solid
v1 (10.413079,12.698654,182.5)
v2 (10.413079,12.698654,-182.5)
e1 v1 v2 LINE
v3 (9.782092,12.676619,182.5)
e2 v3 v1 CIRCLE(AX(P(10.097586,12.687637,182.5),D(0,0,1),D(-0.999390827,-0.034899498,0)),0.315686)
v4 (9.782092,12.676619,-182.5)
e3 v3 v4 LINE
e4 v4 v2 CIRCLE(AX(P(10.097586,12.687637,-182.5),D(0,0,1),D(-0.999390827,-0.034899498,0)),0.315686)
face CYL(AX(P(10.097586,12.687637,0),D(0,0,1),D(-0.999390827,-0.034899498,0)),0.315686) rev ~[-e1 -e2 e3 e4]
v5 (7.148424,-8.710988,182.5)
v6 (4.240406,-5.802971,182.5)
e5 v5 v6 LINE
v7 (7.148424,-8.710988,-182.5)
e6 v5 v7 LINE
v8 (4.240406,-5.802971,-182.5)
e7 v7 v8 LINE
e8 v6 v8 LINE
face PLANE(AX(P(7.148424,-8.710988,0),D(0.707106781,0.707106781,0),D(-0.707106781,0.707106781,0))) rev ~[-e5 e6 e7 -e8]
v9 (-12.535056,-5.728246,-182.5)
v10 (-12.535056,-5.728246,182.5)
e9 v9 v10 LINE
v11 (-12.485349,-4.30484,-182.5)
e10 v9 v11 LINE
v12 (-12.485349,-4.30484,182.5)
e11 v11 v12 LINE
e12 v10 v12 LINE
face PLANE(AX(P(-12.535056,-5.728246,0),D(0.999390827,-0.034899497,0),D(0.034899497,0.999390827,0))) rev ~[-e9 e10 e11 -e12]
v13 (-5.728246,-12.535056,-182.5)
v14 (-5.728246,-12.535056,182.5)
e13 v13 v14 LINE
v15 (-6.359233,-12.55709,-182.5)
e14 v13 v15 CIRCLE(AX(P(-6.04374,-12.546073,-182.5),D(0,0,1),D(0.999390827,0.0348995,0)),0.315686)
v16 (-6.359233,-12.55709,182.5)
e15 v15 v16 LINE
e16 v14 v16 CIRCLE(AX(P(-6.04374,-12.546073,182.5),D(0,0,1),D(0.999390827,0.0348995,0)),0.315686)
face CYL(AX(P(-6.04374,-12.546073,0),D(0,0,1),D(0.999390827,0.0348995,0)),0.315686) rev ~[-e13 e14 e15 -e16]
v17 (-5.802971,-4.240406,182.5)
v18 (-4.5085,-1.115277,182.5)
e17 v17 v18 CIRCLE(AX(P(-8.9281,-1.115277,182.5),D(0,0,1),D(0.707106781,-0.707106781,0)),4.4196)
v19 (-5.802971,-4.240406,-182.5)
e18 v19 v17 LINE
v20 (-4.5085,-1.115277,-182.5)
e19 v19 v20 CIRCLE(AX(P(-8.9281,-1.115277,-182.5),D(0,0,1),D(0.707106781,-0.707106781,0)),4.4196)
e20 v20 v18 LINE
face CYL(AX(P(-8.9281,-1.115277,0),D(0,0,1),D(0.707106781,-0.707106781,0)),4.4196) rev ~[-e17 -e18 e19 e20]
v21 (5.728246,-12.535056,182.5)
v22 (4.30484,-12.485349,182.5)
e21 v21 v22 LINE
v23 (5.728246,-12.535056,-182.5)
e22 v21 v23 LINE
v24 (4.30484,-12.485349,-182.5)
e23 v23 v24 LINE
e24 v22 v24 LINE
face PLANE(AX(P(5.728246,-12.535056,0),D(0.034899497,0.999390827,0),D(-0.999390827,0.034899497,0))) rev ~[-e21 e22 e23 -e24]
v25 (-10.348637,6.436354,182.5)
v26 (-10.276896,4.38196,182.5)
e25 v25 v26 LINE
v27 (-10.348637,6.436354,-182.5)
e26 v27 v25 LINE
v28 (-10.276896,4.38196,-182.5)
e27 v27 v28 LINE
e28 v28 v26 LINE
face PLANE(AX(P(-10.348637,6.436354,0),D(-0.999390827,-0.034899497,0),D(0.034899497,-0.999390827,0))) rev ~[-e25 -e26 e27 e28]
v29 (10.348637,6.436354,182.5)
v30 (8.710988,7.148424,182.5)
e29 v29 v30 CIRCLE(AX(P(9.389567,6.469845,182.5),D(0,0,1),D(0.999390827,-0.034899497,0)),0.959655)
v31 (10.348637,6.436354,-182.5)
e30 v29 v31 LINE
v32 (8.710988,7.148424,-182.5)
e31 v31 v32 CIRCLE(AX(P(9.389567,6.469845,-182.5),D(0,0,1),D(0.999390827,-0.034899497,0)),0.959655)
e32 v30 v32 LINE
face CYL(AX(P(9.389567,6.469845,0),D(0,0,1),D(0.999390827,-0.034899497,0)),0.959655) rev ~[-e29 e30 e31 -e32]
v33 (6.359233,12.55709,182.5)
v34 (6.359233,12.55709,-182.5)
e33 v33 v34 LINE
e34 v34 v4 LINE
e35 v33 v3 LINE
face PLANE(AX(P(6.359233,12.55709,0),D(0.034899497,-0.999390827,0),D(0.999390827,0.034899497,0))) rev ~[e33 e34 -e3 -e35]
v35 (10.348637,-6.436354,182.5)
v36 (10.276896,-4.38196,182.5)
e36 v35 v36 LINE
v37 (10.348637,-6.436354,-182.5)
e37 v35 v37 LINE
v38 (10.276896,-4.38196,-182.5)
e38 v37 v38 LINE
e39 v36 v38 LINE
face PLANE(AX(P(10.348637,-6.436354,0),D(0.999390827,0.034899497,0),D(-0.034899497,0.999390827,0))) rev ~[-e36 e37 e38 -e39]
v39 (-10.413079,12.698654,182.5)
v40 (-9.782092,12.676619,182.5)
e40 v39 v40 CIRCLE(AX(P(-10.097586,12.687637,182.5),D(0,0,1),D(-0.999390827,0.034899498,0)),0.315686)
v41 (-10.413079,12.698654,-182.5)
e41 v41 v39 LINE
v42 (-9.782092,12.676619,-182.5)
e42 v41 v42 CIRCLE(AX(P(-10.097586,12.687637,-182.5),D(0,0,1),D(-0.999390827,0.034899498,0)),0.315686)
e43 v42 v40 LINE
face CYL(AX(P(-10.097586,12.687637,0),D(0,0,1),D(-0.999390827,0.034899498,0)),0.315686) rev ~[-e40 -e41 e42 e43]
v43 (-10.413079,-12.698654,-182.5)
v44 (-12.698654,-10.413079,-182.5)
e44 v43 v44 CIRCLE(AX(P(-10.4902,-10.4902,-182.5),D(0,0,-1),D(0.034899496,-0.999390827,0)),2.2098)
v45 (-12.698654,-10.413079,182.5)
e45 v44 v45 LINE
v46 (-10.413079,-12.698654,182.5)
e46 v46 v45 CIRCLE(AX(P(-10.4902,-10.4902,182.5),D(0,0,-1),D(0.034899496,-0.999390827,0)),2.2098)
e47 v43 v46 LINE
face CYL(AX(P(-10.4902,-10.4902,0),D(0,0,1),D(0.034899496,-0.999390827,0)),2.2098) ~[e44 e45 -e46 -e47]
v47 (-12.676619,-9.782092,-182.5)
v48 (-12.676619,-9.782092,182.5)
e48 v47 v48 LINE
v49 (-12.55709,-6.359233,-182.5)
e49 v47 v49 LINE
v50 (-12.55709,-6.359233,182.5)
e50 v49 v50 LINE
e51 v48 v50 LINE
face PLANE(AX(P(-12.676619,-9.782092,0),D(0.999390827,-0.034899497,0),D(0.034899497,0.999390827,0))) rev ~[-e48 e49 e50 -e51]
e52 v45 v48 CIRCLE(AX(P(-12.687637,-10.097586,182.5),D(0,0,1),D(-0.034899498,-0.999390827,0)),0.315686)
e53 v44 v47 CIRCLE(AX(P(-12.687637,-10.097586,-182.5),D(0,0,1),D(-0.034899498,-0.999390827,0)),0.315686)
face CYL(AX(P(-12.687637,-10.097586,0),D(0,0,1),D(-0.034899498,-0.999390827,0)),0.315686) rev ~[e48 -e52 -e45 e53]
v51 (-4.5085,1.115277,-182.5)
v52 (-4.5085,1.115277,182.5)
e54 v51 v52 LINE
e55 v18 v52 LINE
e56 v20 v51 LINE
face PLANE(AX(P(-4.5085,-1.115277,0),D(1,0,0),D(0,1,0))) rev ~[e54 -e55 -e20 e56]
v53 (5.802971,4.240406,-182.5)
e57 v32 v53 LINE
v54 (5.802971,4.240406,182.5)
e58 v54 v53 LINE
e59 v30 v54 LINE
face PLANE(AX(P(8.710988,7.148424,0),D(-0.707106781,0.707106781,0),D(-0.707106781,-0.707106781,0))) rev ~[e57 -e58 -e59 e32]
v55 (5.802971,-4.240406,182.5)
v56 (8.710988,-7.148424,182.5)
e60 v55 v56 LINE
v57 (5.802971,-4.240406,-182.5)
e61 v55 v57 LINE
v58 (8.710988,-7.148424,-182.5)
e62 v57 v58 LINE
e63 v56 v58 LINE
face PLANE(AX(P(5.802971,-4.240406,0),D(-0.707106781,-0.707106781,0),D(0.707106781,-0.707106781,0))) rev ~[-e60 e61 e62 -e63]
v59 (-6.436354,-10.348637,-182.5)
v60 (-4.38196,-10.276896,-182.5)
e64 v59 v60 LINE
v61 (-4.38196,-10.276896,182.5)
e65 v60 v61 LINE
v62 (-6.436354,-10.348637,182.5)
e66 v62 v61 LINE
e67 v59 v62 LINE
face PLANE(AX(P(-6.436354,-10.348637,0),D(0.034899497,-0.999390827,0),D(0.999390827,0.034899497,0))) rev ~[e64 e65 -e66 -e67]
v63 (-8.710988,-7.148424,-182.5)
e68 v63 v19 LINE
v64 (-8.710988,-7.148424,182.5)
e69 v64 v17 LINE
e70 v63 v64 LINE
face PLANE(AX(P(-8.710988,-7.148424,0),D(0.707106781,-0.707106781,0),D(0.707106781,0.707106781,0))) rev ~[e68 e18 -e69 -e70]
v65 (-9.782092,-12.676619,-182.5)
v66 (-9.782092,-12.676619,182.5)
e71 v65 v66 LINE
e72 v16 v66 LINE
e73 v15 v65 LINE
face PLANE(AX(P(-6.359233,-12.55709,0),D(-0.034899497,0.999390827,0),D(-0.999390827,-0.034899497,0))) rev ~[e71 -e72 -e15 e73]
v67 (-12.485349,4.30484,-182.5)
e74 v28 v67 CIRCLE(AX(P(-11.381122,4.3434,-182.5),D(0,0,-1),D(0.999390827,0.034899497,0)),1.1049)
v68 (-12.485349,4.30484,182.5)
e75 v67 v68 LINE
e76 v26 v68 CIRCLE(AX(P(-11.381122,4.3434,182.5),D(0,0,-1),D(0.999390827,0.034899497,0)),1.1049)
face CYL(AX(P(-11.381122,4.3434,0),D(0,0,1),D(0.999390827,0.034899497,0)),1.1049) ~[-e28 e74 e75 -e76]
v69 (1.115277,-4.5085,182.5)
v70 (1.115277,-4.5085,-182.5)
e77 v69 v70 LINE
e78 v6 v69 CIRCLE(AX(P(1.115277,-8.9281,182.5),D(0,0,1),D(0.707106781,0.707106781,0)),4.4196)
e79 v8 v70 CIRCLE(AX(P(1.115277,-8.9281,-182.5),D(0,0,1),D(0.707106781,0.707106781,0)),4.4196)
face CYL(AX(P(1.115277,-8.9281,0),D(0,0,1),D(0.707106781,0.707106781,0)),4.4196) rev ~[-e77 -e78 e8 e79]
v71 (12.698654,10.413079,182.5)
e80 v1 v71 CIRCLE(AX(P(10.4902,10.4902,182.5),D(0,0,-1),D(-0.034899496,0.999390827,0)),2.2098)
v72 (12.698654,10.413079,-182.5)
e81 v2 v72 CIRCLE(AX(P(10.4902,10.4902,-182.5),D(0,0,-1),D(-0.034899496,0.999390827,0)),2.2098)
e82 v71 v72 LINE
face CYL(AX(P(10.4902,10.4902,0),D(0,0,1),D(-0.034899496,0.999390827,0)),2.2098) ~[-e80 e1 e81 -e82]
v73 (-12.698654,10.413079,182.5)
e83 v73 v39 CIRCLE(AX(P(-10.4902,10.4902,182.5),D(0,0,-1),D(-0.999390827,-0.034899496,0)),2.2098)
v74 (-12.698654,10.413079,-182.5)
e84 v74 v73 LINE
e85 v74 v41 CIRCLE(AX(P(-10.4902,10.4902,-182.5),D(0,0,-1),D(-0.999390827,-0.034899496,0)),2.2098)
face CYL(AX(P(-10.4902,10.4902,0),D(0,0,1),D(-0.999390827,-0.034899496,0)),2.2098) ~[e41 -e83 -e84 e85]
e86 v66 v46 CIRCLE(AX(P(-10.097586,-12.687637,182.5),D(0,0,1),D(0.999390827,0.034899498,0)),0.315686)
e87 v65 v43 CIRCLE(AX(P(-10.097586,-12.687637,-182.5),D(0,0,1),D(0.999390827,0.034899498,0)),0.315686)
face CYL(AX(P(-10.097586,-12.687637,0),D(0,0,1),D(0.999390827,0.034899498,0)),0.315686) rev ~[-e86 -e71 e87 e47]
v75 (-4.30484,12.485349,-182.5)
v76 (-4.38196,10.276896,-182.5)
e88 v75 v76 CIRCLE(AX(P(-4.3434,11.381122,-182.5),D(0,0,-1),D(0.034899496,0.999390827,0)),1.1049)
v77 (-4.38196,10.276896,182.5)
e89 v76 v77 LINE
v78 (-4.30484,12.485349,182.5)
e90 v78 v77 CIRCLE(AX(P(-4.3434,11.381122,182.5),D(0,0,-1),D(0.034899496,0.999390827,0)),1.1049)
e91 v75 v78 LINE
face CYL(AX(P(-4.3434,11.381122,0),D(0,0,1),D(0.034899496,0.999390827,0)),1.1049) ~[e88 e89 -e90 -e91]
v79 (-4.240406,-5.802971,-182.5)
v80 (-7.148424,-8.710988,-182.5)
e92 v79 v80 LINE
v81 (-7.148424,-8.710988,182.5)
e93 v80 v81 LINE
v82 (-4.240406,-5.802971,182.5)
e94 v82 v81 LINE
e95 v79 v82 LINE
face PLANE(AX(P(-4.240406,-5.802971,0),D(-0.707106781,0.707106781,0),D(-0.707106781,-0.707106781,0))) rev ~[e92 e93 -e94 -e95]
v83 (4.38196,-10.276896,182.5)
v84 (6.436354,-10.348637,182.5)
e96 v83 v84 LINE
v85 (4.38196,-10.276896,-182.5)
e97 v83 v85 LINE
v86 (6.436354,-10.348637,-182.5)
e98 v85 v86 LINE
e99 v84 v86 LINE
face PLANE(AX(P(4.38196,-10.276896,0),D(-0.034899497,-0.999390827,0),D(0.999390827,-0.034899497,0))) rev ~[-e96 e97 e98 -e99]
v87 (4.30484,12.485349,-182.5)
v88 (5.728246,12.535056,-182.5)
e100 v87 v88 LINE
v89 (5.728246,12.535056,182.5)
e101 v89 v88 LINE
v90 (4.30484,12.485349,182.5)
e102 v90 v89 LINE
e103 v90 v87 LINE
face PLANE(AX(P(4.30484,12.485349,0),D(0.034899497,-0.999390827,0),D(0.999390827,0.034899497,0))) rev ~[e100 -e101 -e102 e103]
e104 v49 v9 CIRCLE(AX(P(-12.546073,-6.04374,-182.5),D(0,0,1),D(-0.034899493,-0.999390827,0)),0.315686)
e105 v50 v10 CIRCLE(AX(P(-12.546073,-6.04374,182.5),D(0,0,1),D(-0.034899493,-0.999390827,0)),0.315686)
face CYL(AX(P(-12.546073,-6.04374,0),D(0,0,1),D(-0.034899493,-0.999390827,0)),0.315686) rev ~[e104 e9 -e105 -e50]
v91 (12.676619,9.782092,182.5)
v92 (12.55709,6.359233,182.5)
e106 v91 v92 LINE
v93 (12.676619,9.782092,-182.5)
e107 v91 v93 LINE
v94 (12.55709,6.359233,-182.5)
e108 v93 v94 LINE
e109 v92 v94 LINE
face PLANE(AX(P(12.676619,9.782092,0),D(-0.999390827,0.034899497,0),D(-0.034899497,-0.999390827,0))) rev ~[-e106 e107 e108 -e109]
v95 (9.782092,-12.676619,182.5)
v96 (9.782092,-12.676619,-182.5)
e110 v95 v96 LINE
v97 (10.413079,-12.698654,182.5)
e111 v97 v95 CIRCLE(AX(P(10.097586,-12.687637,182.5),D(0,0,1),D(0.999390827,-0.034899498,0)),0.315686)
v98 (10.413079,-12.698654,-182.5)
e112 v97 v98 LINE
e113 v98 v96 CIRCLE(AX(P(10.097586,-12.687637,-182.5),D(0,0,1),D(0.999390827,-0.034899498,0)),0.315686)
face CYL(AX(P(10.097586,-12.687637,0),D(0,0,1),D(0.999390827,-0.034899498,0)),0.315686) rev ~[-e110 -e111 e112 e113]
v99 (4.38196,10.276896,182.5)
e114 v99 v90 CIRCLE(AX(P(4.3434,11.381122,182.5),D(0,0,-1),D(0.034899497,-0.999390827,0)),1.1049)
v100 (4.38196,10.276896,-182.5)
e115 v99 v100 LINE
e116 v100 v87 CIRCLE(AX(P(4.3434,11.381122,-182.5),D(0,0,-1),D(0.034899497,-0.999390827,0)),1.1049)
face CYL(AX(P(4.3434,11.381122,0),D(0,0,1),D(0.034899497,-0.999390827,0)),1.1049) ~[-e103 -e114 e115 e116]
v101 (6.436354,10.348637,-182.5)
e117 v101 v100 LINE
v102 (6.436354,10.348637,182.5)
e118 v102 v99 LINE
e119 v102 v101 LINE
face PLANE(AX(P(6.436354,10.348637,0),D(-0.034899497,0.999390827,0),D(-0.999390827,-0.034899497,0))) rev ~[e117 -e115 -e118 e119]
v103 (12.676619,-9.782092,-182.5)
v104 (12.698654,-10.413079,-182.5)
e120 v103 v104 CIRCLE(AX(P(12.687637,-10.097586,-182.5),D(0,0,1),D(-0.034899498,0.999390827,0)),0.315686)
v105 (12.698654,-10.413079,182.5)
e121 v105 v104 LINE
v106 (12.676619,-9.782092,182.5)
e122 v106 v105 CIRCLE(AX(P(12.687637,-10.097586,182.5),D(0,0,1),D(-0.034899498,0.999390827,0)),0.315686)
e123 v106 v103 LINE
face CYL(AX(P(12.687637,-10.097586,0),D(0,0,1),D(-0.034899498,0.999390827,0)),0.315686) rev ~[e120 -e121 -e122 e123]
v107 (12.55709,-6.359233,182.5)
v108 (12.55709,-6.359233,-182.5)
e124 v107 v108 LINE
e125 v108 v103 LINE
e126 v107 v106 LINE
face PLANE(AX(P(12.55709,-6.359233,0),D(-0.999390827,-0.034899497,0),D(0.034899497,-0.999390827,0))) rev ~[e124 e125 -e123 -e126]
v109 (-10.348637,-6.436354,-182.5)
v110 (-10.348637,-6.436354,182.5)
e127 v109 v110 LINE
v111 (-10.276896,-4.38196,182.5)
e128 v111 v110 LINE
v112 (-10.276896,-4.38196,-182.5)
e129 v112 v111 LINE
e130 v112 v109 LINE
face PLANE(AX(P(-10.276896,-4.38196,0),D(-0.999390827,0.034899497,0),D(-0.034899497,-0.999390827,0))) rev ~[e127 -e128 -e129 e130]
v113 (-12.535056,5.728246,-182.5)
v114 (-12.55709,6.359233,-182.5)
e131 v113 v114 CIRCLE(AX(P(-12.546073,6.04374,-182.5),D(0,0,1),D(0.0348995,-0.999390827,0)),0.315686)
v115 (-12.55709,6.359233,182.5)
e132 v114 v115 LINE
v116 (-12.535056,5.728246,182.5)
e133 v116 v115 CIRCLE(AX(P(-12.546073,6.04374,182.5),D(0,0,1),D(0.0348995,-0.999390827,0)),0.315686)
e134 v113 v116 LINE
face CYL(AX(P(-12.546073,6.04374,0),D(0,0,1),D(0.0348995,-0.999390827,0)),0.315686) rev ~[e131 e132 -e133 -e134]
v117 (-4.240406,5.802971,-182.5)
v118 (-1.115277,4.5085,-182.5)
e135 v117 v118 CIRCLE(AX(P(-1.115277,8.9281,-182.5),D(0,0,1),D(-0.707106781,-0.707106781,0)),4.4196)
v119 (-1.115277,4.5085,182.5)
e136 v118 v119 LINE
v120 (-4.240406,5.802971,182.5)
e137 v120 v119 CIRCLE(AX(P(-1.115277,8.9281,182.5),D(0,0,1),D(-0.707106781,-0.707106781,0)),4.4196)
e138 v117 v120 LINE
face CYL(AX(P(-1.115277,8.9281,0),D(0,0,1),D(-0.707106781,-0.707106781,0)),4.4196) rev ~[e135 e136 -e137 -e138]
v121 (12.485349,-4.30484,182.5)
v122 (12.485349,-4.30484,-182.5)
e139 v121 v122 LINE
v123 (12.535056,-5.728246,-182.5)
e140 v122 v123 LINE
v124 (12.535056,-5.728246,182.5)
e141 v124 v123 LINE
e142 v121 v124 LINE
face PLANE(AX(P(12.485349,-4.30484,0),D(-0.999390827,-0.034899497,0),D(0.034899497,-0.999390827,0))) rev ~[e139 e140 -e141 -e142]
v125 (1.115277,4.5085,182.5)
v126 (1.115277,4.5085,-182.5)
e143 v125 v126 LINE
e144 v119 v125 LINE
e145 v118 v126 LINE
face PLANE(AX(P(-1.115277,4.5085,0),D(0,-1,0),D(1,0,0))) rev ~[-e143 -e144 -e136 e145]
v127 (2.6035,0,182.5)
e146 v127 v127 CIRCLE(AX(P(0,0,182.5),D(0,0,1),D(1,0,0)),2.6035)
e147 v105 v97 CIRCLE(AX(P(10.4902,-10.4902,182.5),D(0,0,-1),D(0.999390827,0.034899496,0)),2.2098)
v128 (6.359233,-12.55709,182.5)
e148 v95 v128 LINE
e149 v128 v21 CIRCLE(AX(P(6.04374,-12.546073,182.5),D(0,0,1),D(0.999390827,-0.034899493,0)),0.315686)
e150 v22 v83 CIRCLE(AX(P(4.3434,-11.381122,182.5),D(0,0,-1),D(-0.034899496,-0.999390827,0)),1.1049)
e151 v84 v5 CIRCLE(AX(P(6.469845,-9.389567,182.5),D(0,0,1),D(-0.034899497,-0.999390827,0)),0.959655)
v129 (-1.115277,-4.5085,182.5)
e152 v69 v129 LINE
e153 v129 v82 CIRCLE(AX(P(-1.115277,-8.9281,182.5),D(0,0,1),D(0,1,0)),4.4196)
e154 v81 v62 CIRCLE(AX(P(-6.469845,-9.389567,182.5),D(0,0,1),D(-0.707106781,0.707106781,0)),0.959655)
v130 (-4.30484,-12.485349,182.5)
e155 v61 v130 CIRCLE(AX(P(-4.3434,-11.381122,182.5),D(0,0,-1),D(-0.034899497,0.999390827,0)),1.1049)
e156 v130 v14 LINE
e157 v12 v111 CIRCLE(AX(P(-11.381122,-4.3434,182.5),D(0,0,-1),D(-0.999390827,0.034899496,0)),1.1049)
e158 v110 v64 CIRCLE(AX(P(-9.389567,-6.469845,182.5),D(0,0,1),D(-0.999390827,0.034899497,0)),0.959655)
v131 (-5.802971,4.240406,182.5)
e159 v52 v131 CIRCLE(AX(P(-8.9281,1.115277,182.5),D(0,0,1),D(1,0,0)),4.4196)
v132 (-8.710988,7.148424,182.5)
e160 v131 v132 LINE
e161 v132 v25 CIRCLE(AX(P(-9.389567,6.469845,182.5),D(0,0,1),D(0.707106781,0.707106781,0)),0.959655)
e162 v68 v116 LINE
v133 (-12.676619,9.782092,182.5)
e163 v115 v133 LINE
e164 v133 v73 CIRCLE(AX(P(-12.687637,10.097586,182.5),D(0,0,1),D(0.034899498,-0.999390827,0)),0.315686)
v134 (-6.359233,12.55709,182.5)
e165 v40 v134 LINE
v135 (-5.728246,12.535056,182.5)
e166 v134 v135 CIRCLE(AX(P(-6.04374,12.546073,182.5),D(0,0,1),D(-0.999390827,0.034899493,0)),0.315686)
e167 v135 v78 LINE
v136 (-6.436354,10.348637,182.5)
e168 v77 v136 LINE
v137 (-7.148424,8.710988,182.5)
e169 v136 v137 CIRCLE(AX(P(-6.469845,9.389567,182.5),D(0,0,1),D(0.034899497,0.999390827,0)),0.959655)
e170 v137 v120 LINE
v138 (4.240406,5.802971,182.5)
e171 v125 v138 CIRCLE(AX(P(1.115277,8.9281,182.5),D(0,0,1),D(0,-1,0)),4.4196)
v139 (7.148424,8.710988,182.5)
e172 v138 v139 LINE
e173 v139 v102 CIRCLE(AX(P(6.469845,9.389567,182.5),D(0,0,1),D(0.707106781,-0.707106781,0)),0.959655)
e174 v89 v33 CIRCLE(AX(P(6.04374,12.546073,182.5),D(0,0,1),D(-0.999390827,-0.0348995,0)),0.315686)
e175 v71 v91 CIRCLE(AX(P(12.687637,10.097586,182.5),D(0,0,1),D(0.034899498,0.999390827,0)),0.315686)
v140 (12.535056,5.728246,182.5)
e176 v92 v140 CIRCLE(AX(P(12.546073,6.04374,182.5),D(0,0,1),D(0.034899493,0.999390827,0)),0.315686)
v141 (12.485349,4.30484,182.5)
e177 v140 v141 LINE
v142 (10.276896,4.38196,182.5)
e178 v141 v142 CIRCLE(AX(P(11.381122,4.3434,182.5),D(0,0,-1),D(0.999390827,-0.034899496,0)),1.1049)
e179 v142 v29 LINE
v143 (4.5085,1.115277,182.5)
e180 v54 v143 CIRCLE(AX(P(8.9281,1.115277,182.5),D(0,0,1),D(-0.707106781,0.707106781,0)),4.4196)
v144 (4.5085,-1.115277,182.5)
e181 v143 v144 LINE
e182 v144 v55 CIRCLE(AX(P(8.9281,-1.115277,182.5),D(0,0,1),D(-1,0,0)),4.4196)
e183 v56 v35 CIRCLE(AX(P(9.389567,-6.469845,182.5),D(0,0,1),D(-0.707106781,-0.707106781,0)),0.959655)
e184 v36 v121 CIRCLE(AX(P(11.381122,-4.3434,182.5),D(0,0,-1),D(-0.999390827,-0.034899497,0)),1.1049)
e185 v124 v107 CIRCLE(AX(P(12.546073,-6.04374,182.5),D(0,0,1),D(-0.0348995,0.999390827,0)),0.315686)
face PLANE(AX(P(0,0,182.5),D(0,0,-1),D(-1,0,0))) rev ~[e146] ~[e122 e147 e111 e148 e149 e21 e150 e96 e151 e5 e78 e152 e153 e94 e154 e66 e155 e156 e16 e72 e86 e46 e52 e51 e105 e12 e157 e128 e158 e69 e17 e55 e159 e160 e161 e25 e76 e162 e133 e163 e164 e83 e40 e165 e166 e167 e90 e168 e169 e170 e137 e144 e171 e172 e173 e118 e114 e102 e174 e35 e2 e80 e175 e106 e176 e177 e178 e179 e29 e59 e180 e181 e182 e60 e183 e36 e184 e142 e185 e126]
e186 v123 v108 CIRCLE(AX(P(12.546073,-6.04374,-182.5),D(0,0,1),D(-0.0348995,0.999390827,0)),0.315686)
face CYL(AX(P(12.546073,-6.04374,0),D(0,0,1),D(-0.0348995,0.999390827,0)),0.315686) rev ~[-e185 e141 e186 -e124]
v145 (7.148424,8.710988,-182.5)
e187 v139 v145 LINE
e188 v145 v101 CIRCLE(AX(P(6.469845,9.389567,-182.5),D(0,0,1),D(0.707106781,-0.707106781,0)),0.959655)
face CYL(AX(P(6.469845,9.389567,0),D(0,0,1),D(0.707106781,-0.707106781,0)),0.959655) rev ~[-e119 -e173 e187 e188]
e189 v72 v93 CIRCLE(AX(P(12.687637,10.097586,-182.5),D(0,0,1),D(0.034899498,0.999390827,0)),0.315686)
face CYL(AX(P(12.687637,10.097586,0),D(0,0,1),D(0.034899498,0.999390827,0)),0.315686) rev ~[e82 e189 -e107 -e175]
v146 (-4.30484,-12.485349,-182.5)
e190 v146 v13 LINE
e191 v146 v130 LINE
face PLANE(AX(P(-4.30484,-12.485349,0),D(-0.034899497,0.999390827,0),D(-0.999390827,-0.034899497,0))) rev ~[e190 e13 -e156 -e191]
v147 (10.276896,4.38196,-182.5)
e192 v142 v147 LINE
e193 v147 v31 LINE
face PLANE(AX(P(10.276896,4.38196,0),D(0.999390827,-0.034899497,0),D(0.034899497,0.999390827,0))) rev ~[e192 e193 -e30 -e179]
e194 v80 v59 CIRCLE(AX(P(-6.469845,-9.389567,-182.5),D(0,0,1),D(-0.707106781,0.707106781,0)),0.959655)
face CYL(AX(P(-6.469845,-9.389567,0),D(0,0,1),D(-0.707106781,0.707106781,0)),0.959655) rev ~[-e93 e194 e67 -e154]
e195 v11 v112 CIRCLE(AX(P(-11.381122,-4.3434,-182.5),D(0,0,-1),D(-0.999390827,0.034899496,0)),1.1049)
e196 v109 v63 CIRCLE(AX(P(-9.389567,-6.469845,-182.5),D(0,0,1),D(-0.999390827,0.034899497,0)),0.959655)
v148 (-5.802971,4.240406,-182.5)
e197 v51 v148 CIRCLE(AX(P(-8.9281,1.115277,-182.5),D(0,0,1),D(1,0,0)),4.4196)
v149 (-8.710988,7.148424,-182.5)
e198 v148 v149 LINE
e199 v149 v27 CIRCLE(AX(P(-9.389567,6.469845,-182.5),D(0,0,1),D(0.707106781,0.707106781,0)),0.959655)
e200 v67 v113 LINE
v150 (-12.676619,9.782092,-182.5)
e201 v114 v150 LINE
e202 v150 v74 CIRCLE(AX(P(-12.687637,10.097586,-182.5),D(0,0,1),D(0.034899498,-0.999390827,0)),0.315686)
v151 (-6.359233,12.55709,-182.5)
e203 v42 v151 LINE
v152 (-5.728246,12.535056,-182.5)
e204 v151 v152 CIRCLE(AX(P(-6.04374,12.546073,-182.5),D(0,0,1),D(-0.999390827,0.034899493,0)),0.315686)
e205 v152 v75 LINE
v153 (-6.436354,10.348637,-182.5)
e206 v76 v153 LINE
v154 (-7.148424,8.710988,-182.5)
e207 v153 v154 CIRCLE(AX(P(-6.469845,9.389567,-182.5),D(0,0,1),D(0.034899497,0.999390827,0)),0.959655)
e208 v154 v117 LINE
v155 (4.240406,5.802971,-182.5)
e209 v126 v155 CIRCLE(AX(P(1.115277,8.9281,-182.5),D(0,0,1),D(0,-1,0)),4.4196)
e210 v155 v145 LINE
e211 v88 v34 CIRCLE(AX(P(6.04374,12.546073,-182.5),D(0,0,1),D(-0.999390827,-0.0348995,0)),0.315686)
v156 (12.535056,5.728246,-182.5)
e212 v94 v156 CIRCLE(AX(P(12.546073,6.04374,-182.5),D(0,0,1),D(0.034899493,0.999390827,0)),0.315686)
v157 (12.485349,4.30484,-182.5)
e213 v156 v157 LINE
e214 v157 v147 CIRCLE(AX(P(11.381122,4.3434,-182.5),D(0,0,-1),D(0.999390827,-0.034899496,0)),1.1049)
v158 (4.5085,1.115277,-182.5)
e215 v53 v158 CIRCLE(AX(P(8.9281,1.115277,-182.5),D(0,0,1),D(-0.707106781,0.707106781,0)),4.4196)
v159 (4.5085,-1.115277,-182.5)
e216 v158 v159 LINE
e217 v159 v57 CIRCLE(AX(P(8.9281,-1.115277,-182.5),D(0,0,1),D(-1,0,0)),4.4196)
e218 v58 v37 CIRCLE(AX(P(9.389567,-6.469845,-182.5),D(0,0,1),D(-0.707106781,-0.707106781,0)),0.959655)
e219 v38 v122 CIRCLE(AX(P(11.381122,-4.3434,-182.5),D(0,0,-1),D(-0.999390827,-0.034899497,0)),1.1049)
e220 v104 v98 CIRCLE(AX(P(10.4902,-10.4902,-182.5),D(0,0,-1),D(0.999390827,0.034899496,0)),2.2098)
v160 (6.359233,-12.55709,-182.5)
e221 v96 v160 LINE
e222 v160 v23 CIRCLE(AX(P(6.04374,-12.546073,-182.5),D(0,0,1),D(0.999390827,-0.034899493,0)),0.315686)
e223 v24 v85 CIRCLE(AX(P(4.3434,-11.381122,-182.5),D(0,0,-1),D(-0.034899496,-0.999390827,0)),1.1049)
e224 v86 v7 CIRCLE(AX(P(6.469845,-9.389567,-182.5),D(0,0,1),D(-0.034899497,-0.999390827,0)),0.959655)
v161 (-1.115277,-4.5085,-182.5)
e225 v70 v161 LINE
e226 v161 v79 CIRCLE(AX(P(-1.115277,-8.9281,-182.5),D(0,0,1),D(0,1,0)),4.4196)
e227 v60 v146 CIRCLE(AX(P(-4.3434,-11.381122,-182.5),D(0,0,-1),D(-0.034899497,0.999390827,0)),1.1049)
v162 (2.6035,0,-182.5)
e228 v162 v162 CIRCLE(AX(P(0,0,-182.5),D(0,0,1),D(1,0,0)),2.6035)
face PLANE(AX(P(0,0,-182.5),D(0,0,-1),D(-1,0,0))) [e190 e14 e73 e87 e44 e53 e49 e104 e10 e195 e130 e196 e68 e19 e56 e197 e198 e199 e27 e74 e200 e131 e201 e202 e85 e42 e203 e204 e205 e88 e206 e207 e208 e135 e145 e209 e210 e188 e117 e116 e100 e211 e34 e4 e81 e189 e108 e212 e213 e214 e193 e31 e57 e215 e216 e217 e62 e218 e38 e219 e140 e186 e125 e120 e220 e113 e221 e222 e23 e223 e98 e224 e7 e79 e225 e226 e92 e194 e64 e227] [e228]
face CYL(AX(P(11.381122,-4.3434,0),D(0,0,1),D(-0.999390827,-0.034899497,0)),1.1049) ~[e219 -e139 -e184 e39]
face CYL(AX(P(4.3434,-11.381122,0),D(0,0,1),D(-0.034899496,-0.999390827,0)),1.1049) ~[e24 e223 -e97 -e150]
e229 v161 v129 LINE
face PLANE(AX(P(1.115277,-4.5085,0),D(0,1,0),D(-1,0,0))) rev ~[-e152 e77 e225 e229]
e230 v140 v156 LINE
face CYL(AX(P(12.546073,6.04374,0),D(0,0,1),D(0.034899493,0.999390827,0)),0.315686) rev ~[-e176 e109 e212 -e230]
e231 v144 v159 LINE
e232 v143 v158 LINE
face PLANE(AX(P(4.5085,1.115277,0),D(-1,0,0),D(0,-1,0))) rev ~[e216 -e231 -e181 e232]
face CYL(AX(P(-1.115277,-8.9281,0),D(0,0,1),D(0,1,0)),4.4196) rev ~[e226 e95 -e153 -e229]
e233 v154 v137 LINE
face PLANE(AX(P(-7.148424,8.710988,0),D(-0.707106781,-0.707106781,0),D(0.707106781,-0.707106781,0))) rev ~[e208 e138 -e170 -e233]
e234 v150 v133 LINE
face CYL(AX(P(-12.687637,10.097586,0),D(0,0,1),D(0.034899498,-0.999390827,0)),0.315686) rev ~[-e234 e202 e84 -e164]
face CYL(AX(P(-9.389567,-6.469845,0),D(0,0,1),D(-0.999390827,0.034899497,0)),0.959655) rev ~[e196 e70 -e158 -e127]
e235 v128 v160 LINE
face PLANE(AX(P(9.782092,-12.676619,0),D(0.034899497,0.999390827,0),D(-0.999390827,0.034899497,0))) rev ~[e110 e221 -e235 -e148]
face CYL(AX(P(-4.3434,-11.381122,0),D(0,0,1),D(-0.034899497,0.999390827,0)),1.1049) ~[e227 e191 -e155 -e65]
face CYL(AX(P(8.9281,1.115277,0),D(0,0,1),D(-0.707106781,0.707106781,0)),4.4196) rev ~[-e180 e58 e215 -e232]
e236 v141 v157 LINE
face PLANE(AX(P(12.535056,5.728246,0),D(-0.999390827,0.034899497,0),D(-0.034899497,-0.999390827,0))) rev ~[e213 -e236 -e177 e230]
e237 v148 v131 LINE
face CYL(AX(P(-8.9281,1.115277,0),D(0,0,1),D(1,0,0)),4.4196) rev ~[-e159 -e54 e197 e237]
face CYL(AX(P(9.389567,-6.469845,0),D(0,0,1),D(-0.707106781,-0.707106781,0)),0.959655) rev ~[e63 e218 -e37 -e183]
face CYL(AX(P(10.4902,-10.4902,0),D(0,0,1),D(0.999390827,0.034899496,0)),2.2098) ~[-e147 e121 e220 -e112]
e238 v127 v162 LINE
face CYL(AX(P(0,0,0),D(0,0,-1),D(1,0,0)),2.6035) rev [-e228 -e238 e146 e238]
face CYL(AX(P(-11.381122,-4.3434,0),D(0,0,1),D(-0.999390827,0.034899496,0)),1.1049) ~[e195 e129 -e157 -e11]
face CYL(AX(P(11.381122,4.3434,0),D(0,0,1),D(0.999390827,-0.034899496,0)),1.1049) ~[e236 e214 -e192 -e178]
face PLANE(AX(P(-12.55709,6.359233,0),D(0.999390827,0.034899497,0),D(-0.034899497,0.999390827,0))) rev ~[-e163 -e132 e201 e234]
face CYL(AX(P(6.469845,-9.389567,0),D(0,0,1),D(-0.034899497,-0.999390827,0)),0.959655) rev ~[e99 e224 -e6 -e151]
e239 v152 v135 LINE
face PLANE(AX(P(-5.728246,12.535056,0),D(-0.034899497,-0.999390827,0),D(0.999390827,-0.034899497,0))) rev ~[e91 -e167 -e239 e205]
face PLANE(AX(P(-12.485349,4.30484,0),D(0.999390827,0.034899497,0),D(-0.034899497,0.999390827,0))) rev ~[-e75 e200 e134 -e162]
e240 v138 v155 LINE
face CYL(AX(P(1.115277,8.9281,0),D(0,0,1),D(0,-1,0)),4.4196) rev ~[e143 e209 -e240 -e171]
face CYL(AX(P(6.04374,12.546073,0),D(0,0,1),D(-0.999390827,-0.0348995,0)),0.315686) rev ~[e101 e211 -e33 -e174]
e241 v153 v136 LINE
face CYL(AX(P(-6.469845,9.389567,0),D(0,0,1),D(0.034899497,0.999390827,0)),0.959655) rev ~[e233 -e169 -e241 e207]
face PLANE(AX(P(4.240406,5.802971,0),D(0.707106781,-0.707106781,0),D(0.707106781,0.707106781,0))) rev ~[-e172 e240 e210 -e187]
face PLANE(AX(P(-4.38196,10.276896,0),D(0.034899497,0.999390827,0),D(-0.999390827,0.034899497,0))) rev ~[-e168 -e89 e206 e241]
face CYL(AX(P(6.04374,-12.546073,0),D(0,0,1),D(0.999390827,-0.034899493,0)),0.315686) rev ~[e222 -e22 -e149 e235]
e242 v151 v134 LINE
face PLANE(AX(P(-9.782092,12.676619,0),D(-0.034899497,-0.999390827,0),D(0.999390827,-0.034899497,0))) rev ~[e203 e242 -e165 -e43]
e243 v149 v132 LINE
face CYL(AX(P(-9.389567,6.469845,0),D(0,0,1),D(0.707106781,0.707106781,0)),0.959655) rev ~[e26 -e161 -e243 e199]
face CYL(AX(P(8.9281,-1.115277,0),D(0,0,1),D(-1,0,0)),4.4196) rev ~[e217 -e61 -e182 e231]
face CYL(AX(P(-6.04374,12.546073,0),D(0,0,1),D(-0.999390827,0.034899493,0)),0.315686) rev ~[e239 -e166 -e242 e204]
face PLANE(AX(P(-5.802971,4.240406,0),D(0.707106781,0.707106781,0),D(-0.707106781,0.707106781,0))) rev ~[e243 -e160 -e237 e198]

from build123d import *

# Parameters (mm, degrees)
SKETCH3_R      = 2.6035
EXTRUDE1_DEPTH = 182.5


with BuildPart() as part:
    # Sketch3 → Extrude1 (new body, symmetric)
    with BuildSketch(Plane.XY):
        with BuildLine():
            Line((-1.115277175, 4.5085), (1.115277175, 4.5085))
            ThreePointArc((1.115277175, 4.5085), (2.806584872, 4.844922018), (4.240406305, 5.80297087))
            Line((4.240406305, 5.80297087), (7.148423664, 8.710988229))
            ThreePointArc((7.148423664, 8.710988229), (7.349906316, 9.772227925), (6.436353897, 10.348636575))
            Line((6.436353897, 10.348636575), (4.381960454, 10.276895575))
            ThreePointArc((4.381960454, 10.276895575), (3.239173075, 11.342562046), (4.304839546, 12.485349424))
            Line((4.304839546, 12.485349424), (5.728246175, 12.535055879))
            ThreePointArc((5.728246175, 12.535055879), (6.054756855, 12.230579745), (6.35923299, 12.557090424))
            Line((6.35923299, 12.557090424), (9.782092278, 12.676619304))
            ThreePointArc((9.782092278, 12.676619304), (10.108602958, 12.37214317), (10.413079092, 12.69865385))
            ThreePointArc((10.413079092, 12.69865385), (12.052764565, 12.052764565), (12.69865385, 10.413079092))
            ThreePointArc((12.69865385, 10.413079092), (12.37214317, 10.108602958), (12.676619304, 9.782092278))
            Line((12.676619304, 9.782092278), (12.557090424, 6.35923299))
            ThreePointArc((12.557090424, 6.35923299), (12.230579745, 6.054756855), (12.535055879, 5.728246175))
            Line((12.535055879, 5.728246175), (12.485349424, 4.304839546))
            ThreePointArc((12.485349424, 4.304839546), (11.342562046, 3.239173075), (10.276895575, 4.381960454))
            Line((10.276895575, 4.381960454), (10.348636575, 6.436353897))
            ThreePointArc((10.348636575, 6.436353897), (9.772227925, 7.349906316), (8.710988229, 7.148423664))
            Line((8.710988229, 7.148423664), (5.80297087, 4.240406305))
            ThreePointArc((5.80297087, 4.240406305), (4.844922018, 2.806584872), (4.5085, 1.115277175))
            Line((4.5085, 1.115277175), (4.5085, -1.115277175))
            ThreePointArc((4.5085, -1.115277175), (4.844922018, -2.806584872), (5.80297087, -4.240406305))
            Line((5.80297087, -4.240406305), (8.710988229, -7.148423664))
            ThreePointArc((8.710988229, -7.148423664), (9.772227925, -7.349906316), (10.348636575, -6.436353897))
            Line((10.348636575, -6.436353897), (10.276895575, -4.381960454))
            ThreePointArc((10.276895575, -4.381960454), (11.342562046, -3.239173075), (12.485349424, -4.304839546))
            Line((12.485349424, -4.304839546), (12.535055879, -5.728246175))
            ThreePointArc((12.535055879, -5.728246175), (12.230579745, -6.054756855), (12.557090424, -6.35923299))
            Line((12.557090424, -6.35923299), (12.676619304, -9.782092278))
            ThreePointArc((12.676619304, -9.782092278), (12.37214317, -10.108602958), (12.69865385, -10.413079092))
            ThreePointArc((12.69865385, -10.413079092), (12.052764565, -12.052764565), (10.413079092, -12.69865385))
            ThreePointArc((10.413079092, -12.69865385), (10.108602958, -12.37214317), (9.782092278, -12.676619304))
            Line((9.782092278, -12.676619304), (6.35923299, -12.557090424))
            ThreePointArc((6.35923299, -12.557090424), (6.054756855, -12.230579745), (5.728246175, -12.535055879))
            Line((5.728246175, -12.535055879), (4.304839546, -12.485349424))
            ThreePointArc((4.304839546, -12.485349424), (3.239173075, -11.342562046), (4.381960454, -10.276895575))
            Line((4.381960454, -10.276895575), (6.436353897, -10.348636575))
            ThreePointArc((6.436353897, -10.348636575), (7.349906316, -9.772227925), (7.148423664, -8.710988229))
            Line((7.148423664, -8.710988229), (4.240406305, -5.80297087))
            ThreePointArc((4.240406305, -5.80297087), (2.806584872, -4.844922018), (1.115277175, -4.5085))
            Line((1.115277175, -4.5085), (-1.115277175, -4.5085))
            ThreePointArc((-1.115277175, -4.5085), (-2.806584872, -4.844922018), (-4.240406305, -5.80297087))
            Line((-4.240406305, -5.80297087), (-7.148423664, -8.710988229))
            ThreePointArc((-7.148423664, -8.710988229), (-7.349906316, -9.772227925), (-6.436353897, -10.348636575))
            Line((-6.436353897, -10.348636575), (-4.381960454, -10.276895575))
            ThreePointArc((-4.381960454, -10.276895575), (-3.239173075, -11.342562046), (-4.304839546, -12.485349424))
            Line((-4.304839546, -12.485349424), (-5.728246175, -12.535055879))
            ThreePointArc((-5.728246175, -12.535055879), (-6.054756855, -12.230579745), (-6.35923299, -12.557090424))
            Line((-6.35923299, -12.557090424), (-9.782092278, -12.676619304))
            ThreePointArc((-9.782092278, -12.676619304), (-10.108602958, -12.37214317), (-10.413079092, -12.69865385))
            ThreePointArc((-10.413079092, -12.69865385), (-12.052764565, -12.052764565), (-12.69865385, -10.413079092))
            ThreePointArc((-12.69865385, -10.413079092), (-12.37214317, -10.108602958), (-12.676619304, -9.782092278))
            Line((-12.676619304, -9.782092278), (-12.557090424, -6.35923299))
            ThreePointArc((-12.557090424, -6.35923299), (-12.230579745, -6.054756855), (-12.535055879, -5.728246175))
            Line((-12.535055879, -5.728246175), (-12.485349424, -4.304839546))
            ThreePointArc((-12.485349424, -4.304839546), (-11.342562046, -3.239173075), (-10.276895575, -4.381960454))
            Line((-10.276895575, -4.381960454), (-10.348636575, -6.436353897))
            ThreePointArc((-10.348636575, -6.436353897), (-9.772227925, -7.349906316), (-8.710988229, -7.148423664))
            Line((-8.710988229, -7.148423664), (-5.80297087, -4.240406305))
            ThreePointArc((-5.80297087, -4.240406305), (-4.844922018, -2.806584872), (-4.5085, -1.115277175))
            Line((-4.5085, -1.115277175), (-4.5085, 1.115277175))
            ThreePointArc((-4.5085, 1.115277175), (-4.844922018, 2.806584872), (-5.80297087, 4.240406305))
            Line((-5.80297087, 4.240406305), (-8.710988229, 7.148423664))
            ThreePointArc((-8.710988229, 7.148423664), (-9.772227925, 7.349906316), (-10.348636575, 6.436353897))
            Line((-10.348636575, 6.436353897), (-10.276895575, 4.381960454))
            ThreePointArc((-10.276895575, 4.381960454), (-11.342562046, 3.239173075), (-12.485349424, 4.304839546))
            Line((-12.485349424, 4.304839546), (-12.535055879, 5.728246175))
            ThreePointArc((-12.535055879, 5.728246175), (-12.230579745, 6.054756855), (-12.557090424, 6.35923299))
            Line((-12.557090424, 6.35923299), (-12.676619304, 9.782092278))
            ThreePointArc((-12.676619304, 9.782092278), (-12.37214317, 10.108602958), (-12.69865385, 10.413079092))
            ThreePointArc((-12.69865385, 10.413079092), (-12.052764565, 12.052764565), (-10.413079092, 12.69865385))
            ThreePointArc((-10.413079092, 12.69865385), (-10.108602958, 12.37214317), (-9.782092278, 12.676619304))
            Line((-9.782092278, 12.676619304), (-6.35923299, 12.557090424))
            ThreePointArc((-6.35923299, 12.557090424), (-6.054756855, 12.230579745), (-5.728246175, 12.535055879))
            Line((-5.728246175, 12.535055879), (-4.304839546, 12.485349424))
            ThreePointArc((-4.304839546, 12.485349424), (-3.239173075, 11.342562046), (-4.381960454, 10.276895575))
            Line((-4.381960454, 10.276895575), (-6.436353897, 10.348636575))
            ThreePointArc((-6.436353897, 10.348636575), (-7.349906316, 9.772227925), (-7.148423664, 8.710988229))
            Line((-7.148423664, 8.710988229), (-4.240406305, 5.80297087))
            ThreePointArc((-4.240406305, 5.80297087), (-2.806584872, 4.844922018), (-1.115277175, 4.5085))
        make_face()
        Circle(SKETCH3_R, mode=Mode.SUBTRACT)
    extrude(amount=EXTRUDE1_DEPTH, both=True)


solid = part.part
